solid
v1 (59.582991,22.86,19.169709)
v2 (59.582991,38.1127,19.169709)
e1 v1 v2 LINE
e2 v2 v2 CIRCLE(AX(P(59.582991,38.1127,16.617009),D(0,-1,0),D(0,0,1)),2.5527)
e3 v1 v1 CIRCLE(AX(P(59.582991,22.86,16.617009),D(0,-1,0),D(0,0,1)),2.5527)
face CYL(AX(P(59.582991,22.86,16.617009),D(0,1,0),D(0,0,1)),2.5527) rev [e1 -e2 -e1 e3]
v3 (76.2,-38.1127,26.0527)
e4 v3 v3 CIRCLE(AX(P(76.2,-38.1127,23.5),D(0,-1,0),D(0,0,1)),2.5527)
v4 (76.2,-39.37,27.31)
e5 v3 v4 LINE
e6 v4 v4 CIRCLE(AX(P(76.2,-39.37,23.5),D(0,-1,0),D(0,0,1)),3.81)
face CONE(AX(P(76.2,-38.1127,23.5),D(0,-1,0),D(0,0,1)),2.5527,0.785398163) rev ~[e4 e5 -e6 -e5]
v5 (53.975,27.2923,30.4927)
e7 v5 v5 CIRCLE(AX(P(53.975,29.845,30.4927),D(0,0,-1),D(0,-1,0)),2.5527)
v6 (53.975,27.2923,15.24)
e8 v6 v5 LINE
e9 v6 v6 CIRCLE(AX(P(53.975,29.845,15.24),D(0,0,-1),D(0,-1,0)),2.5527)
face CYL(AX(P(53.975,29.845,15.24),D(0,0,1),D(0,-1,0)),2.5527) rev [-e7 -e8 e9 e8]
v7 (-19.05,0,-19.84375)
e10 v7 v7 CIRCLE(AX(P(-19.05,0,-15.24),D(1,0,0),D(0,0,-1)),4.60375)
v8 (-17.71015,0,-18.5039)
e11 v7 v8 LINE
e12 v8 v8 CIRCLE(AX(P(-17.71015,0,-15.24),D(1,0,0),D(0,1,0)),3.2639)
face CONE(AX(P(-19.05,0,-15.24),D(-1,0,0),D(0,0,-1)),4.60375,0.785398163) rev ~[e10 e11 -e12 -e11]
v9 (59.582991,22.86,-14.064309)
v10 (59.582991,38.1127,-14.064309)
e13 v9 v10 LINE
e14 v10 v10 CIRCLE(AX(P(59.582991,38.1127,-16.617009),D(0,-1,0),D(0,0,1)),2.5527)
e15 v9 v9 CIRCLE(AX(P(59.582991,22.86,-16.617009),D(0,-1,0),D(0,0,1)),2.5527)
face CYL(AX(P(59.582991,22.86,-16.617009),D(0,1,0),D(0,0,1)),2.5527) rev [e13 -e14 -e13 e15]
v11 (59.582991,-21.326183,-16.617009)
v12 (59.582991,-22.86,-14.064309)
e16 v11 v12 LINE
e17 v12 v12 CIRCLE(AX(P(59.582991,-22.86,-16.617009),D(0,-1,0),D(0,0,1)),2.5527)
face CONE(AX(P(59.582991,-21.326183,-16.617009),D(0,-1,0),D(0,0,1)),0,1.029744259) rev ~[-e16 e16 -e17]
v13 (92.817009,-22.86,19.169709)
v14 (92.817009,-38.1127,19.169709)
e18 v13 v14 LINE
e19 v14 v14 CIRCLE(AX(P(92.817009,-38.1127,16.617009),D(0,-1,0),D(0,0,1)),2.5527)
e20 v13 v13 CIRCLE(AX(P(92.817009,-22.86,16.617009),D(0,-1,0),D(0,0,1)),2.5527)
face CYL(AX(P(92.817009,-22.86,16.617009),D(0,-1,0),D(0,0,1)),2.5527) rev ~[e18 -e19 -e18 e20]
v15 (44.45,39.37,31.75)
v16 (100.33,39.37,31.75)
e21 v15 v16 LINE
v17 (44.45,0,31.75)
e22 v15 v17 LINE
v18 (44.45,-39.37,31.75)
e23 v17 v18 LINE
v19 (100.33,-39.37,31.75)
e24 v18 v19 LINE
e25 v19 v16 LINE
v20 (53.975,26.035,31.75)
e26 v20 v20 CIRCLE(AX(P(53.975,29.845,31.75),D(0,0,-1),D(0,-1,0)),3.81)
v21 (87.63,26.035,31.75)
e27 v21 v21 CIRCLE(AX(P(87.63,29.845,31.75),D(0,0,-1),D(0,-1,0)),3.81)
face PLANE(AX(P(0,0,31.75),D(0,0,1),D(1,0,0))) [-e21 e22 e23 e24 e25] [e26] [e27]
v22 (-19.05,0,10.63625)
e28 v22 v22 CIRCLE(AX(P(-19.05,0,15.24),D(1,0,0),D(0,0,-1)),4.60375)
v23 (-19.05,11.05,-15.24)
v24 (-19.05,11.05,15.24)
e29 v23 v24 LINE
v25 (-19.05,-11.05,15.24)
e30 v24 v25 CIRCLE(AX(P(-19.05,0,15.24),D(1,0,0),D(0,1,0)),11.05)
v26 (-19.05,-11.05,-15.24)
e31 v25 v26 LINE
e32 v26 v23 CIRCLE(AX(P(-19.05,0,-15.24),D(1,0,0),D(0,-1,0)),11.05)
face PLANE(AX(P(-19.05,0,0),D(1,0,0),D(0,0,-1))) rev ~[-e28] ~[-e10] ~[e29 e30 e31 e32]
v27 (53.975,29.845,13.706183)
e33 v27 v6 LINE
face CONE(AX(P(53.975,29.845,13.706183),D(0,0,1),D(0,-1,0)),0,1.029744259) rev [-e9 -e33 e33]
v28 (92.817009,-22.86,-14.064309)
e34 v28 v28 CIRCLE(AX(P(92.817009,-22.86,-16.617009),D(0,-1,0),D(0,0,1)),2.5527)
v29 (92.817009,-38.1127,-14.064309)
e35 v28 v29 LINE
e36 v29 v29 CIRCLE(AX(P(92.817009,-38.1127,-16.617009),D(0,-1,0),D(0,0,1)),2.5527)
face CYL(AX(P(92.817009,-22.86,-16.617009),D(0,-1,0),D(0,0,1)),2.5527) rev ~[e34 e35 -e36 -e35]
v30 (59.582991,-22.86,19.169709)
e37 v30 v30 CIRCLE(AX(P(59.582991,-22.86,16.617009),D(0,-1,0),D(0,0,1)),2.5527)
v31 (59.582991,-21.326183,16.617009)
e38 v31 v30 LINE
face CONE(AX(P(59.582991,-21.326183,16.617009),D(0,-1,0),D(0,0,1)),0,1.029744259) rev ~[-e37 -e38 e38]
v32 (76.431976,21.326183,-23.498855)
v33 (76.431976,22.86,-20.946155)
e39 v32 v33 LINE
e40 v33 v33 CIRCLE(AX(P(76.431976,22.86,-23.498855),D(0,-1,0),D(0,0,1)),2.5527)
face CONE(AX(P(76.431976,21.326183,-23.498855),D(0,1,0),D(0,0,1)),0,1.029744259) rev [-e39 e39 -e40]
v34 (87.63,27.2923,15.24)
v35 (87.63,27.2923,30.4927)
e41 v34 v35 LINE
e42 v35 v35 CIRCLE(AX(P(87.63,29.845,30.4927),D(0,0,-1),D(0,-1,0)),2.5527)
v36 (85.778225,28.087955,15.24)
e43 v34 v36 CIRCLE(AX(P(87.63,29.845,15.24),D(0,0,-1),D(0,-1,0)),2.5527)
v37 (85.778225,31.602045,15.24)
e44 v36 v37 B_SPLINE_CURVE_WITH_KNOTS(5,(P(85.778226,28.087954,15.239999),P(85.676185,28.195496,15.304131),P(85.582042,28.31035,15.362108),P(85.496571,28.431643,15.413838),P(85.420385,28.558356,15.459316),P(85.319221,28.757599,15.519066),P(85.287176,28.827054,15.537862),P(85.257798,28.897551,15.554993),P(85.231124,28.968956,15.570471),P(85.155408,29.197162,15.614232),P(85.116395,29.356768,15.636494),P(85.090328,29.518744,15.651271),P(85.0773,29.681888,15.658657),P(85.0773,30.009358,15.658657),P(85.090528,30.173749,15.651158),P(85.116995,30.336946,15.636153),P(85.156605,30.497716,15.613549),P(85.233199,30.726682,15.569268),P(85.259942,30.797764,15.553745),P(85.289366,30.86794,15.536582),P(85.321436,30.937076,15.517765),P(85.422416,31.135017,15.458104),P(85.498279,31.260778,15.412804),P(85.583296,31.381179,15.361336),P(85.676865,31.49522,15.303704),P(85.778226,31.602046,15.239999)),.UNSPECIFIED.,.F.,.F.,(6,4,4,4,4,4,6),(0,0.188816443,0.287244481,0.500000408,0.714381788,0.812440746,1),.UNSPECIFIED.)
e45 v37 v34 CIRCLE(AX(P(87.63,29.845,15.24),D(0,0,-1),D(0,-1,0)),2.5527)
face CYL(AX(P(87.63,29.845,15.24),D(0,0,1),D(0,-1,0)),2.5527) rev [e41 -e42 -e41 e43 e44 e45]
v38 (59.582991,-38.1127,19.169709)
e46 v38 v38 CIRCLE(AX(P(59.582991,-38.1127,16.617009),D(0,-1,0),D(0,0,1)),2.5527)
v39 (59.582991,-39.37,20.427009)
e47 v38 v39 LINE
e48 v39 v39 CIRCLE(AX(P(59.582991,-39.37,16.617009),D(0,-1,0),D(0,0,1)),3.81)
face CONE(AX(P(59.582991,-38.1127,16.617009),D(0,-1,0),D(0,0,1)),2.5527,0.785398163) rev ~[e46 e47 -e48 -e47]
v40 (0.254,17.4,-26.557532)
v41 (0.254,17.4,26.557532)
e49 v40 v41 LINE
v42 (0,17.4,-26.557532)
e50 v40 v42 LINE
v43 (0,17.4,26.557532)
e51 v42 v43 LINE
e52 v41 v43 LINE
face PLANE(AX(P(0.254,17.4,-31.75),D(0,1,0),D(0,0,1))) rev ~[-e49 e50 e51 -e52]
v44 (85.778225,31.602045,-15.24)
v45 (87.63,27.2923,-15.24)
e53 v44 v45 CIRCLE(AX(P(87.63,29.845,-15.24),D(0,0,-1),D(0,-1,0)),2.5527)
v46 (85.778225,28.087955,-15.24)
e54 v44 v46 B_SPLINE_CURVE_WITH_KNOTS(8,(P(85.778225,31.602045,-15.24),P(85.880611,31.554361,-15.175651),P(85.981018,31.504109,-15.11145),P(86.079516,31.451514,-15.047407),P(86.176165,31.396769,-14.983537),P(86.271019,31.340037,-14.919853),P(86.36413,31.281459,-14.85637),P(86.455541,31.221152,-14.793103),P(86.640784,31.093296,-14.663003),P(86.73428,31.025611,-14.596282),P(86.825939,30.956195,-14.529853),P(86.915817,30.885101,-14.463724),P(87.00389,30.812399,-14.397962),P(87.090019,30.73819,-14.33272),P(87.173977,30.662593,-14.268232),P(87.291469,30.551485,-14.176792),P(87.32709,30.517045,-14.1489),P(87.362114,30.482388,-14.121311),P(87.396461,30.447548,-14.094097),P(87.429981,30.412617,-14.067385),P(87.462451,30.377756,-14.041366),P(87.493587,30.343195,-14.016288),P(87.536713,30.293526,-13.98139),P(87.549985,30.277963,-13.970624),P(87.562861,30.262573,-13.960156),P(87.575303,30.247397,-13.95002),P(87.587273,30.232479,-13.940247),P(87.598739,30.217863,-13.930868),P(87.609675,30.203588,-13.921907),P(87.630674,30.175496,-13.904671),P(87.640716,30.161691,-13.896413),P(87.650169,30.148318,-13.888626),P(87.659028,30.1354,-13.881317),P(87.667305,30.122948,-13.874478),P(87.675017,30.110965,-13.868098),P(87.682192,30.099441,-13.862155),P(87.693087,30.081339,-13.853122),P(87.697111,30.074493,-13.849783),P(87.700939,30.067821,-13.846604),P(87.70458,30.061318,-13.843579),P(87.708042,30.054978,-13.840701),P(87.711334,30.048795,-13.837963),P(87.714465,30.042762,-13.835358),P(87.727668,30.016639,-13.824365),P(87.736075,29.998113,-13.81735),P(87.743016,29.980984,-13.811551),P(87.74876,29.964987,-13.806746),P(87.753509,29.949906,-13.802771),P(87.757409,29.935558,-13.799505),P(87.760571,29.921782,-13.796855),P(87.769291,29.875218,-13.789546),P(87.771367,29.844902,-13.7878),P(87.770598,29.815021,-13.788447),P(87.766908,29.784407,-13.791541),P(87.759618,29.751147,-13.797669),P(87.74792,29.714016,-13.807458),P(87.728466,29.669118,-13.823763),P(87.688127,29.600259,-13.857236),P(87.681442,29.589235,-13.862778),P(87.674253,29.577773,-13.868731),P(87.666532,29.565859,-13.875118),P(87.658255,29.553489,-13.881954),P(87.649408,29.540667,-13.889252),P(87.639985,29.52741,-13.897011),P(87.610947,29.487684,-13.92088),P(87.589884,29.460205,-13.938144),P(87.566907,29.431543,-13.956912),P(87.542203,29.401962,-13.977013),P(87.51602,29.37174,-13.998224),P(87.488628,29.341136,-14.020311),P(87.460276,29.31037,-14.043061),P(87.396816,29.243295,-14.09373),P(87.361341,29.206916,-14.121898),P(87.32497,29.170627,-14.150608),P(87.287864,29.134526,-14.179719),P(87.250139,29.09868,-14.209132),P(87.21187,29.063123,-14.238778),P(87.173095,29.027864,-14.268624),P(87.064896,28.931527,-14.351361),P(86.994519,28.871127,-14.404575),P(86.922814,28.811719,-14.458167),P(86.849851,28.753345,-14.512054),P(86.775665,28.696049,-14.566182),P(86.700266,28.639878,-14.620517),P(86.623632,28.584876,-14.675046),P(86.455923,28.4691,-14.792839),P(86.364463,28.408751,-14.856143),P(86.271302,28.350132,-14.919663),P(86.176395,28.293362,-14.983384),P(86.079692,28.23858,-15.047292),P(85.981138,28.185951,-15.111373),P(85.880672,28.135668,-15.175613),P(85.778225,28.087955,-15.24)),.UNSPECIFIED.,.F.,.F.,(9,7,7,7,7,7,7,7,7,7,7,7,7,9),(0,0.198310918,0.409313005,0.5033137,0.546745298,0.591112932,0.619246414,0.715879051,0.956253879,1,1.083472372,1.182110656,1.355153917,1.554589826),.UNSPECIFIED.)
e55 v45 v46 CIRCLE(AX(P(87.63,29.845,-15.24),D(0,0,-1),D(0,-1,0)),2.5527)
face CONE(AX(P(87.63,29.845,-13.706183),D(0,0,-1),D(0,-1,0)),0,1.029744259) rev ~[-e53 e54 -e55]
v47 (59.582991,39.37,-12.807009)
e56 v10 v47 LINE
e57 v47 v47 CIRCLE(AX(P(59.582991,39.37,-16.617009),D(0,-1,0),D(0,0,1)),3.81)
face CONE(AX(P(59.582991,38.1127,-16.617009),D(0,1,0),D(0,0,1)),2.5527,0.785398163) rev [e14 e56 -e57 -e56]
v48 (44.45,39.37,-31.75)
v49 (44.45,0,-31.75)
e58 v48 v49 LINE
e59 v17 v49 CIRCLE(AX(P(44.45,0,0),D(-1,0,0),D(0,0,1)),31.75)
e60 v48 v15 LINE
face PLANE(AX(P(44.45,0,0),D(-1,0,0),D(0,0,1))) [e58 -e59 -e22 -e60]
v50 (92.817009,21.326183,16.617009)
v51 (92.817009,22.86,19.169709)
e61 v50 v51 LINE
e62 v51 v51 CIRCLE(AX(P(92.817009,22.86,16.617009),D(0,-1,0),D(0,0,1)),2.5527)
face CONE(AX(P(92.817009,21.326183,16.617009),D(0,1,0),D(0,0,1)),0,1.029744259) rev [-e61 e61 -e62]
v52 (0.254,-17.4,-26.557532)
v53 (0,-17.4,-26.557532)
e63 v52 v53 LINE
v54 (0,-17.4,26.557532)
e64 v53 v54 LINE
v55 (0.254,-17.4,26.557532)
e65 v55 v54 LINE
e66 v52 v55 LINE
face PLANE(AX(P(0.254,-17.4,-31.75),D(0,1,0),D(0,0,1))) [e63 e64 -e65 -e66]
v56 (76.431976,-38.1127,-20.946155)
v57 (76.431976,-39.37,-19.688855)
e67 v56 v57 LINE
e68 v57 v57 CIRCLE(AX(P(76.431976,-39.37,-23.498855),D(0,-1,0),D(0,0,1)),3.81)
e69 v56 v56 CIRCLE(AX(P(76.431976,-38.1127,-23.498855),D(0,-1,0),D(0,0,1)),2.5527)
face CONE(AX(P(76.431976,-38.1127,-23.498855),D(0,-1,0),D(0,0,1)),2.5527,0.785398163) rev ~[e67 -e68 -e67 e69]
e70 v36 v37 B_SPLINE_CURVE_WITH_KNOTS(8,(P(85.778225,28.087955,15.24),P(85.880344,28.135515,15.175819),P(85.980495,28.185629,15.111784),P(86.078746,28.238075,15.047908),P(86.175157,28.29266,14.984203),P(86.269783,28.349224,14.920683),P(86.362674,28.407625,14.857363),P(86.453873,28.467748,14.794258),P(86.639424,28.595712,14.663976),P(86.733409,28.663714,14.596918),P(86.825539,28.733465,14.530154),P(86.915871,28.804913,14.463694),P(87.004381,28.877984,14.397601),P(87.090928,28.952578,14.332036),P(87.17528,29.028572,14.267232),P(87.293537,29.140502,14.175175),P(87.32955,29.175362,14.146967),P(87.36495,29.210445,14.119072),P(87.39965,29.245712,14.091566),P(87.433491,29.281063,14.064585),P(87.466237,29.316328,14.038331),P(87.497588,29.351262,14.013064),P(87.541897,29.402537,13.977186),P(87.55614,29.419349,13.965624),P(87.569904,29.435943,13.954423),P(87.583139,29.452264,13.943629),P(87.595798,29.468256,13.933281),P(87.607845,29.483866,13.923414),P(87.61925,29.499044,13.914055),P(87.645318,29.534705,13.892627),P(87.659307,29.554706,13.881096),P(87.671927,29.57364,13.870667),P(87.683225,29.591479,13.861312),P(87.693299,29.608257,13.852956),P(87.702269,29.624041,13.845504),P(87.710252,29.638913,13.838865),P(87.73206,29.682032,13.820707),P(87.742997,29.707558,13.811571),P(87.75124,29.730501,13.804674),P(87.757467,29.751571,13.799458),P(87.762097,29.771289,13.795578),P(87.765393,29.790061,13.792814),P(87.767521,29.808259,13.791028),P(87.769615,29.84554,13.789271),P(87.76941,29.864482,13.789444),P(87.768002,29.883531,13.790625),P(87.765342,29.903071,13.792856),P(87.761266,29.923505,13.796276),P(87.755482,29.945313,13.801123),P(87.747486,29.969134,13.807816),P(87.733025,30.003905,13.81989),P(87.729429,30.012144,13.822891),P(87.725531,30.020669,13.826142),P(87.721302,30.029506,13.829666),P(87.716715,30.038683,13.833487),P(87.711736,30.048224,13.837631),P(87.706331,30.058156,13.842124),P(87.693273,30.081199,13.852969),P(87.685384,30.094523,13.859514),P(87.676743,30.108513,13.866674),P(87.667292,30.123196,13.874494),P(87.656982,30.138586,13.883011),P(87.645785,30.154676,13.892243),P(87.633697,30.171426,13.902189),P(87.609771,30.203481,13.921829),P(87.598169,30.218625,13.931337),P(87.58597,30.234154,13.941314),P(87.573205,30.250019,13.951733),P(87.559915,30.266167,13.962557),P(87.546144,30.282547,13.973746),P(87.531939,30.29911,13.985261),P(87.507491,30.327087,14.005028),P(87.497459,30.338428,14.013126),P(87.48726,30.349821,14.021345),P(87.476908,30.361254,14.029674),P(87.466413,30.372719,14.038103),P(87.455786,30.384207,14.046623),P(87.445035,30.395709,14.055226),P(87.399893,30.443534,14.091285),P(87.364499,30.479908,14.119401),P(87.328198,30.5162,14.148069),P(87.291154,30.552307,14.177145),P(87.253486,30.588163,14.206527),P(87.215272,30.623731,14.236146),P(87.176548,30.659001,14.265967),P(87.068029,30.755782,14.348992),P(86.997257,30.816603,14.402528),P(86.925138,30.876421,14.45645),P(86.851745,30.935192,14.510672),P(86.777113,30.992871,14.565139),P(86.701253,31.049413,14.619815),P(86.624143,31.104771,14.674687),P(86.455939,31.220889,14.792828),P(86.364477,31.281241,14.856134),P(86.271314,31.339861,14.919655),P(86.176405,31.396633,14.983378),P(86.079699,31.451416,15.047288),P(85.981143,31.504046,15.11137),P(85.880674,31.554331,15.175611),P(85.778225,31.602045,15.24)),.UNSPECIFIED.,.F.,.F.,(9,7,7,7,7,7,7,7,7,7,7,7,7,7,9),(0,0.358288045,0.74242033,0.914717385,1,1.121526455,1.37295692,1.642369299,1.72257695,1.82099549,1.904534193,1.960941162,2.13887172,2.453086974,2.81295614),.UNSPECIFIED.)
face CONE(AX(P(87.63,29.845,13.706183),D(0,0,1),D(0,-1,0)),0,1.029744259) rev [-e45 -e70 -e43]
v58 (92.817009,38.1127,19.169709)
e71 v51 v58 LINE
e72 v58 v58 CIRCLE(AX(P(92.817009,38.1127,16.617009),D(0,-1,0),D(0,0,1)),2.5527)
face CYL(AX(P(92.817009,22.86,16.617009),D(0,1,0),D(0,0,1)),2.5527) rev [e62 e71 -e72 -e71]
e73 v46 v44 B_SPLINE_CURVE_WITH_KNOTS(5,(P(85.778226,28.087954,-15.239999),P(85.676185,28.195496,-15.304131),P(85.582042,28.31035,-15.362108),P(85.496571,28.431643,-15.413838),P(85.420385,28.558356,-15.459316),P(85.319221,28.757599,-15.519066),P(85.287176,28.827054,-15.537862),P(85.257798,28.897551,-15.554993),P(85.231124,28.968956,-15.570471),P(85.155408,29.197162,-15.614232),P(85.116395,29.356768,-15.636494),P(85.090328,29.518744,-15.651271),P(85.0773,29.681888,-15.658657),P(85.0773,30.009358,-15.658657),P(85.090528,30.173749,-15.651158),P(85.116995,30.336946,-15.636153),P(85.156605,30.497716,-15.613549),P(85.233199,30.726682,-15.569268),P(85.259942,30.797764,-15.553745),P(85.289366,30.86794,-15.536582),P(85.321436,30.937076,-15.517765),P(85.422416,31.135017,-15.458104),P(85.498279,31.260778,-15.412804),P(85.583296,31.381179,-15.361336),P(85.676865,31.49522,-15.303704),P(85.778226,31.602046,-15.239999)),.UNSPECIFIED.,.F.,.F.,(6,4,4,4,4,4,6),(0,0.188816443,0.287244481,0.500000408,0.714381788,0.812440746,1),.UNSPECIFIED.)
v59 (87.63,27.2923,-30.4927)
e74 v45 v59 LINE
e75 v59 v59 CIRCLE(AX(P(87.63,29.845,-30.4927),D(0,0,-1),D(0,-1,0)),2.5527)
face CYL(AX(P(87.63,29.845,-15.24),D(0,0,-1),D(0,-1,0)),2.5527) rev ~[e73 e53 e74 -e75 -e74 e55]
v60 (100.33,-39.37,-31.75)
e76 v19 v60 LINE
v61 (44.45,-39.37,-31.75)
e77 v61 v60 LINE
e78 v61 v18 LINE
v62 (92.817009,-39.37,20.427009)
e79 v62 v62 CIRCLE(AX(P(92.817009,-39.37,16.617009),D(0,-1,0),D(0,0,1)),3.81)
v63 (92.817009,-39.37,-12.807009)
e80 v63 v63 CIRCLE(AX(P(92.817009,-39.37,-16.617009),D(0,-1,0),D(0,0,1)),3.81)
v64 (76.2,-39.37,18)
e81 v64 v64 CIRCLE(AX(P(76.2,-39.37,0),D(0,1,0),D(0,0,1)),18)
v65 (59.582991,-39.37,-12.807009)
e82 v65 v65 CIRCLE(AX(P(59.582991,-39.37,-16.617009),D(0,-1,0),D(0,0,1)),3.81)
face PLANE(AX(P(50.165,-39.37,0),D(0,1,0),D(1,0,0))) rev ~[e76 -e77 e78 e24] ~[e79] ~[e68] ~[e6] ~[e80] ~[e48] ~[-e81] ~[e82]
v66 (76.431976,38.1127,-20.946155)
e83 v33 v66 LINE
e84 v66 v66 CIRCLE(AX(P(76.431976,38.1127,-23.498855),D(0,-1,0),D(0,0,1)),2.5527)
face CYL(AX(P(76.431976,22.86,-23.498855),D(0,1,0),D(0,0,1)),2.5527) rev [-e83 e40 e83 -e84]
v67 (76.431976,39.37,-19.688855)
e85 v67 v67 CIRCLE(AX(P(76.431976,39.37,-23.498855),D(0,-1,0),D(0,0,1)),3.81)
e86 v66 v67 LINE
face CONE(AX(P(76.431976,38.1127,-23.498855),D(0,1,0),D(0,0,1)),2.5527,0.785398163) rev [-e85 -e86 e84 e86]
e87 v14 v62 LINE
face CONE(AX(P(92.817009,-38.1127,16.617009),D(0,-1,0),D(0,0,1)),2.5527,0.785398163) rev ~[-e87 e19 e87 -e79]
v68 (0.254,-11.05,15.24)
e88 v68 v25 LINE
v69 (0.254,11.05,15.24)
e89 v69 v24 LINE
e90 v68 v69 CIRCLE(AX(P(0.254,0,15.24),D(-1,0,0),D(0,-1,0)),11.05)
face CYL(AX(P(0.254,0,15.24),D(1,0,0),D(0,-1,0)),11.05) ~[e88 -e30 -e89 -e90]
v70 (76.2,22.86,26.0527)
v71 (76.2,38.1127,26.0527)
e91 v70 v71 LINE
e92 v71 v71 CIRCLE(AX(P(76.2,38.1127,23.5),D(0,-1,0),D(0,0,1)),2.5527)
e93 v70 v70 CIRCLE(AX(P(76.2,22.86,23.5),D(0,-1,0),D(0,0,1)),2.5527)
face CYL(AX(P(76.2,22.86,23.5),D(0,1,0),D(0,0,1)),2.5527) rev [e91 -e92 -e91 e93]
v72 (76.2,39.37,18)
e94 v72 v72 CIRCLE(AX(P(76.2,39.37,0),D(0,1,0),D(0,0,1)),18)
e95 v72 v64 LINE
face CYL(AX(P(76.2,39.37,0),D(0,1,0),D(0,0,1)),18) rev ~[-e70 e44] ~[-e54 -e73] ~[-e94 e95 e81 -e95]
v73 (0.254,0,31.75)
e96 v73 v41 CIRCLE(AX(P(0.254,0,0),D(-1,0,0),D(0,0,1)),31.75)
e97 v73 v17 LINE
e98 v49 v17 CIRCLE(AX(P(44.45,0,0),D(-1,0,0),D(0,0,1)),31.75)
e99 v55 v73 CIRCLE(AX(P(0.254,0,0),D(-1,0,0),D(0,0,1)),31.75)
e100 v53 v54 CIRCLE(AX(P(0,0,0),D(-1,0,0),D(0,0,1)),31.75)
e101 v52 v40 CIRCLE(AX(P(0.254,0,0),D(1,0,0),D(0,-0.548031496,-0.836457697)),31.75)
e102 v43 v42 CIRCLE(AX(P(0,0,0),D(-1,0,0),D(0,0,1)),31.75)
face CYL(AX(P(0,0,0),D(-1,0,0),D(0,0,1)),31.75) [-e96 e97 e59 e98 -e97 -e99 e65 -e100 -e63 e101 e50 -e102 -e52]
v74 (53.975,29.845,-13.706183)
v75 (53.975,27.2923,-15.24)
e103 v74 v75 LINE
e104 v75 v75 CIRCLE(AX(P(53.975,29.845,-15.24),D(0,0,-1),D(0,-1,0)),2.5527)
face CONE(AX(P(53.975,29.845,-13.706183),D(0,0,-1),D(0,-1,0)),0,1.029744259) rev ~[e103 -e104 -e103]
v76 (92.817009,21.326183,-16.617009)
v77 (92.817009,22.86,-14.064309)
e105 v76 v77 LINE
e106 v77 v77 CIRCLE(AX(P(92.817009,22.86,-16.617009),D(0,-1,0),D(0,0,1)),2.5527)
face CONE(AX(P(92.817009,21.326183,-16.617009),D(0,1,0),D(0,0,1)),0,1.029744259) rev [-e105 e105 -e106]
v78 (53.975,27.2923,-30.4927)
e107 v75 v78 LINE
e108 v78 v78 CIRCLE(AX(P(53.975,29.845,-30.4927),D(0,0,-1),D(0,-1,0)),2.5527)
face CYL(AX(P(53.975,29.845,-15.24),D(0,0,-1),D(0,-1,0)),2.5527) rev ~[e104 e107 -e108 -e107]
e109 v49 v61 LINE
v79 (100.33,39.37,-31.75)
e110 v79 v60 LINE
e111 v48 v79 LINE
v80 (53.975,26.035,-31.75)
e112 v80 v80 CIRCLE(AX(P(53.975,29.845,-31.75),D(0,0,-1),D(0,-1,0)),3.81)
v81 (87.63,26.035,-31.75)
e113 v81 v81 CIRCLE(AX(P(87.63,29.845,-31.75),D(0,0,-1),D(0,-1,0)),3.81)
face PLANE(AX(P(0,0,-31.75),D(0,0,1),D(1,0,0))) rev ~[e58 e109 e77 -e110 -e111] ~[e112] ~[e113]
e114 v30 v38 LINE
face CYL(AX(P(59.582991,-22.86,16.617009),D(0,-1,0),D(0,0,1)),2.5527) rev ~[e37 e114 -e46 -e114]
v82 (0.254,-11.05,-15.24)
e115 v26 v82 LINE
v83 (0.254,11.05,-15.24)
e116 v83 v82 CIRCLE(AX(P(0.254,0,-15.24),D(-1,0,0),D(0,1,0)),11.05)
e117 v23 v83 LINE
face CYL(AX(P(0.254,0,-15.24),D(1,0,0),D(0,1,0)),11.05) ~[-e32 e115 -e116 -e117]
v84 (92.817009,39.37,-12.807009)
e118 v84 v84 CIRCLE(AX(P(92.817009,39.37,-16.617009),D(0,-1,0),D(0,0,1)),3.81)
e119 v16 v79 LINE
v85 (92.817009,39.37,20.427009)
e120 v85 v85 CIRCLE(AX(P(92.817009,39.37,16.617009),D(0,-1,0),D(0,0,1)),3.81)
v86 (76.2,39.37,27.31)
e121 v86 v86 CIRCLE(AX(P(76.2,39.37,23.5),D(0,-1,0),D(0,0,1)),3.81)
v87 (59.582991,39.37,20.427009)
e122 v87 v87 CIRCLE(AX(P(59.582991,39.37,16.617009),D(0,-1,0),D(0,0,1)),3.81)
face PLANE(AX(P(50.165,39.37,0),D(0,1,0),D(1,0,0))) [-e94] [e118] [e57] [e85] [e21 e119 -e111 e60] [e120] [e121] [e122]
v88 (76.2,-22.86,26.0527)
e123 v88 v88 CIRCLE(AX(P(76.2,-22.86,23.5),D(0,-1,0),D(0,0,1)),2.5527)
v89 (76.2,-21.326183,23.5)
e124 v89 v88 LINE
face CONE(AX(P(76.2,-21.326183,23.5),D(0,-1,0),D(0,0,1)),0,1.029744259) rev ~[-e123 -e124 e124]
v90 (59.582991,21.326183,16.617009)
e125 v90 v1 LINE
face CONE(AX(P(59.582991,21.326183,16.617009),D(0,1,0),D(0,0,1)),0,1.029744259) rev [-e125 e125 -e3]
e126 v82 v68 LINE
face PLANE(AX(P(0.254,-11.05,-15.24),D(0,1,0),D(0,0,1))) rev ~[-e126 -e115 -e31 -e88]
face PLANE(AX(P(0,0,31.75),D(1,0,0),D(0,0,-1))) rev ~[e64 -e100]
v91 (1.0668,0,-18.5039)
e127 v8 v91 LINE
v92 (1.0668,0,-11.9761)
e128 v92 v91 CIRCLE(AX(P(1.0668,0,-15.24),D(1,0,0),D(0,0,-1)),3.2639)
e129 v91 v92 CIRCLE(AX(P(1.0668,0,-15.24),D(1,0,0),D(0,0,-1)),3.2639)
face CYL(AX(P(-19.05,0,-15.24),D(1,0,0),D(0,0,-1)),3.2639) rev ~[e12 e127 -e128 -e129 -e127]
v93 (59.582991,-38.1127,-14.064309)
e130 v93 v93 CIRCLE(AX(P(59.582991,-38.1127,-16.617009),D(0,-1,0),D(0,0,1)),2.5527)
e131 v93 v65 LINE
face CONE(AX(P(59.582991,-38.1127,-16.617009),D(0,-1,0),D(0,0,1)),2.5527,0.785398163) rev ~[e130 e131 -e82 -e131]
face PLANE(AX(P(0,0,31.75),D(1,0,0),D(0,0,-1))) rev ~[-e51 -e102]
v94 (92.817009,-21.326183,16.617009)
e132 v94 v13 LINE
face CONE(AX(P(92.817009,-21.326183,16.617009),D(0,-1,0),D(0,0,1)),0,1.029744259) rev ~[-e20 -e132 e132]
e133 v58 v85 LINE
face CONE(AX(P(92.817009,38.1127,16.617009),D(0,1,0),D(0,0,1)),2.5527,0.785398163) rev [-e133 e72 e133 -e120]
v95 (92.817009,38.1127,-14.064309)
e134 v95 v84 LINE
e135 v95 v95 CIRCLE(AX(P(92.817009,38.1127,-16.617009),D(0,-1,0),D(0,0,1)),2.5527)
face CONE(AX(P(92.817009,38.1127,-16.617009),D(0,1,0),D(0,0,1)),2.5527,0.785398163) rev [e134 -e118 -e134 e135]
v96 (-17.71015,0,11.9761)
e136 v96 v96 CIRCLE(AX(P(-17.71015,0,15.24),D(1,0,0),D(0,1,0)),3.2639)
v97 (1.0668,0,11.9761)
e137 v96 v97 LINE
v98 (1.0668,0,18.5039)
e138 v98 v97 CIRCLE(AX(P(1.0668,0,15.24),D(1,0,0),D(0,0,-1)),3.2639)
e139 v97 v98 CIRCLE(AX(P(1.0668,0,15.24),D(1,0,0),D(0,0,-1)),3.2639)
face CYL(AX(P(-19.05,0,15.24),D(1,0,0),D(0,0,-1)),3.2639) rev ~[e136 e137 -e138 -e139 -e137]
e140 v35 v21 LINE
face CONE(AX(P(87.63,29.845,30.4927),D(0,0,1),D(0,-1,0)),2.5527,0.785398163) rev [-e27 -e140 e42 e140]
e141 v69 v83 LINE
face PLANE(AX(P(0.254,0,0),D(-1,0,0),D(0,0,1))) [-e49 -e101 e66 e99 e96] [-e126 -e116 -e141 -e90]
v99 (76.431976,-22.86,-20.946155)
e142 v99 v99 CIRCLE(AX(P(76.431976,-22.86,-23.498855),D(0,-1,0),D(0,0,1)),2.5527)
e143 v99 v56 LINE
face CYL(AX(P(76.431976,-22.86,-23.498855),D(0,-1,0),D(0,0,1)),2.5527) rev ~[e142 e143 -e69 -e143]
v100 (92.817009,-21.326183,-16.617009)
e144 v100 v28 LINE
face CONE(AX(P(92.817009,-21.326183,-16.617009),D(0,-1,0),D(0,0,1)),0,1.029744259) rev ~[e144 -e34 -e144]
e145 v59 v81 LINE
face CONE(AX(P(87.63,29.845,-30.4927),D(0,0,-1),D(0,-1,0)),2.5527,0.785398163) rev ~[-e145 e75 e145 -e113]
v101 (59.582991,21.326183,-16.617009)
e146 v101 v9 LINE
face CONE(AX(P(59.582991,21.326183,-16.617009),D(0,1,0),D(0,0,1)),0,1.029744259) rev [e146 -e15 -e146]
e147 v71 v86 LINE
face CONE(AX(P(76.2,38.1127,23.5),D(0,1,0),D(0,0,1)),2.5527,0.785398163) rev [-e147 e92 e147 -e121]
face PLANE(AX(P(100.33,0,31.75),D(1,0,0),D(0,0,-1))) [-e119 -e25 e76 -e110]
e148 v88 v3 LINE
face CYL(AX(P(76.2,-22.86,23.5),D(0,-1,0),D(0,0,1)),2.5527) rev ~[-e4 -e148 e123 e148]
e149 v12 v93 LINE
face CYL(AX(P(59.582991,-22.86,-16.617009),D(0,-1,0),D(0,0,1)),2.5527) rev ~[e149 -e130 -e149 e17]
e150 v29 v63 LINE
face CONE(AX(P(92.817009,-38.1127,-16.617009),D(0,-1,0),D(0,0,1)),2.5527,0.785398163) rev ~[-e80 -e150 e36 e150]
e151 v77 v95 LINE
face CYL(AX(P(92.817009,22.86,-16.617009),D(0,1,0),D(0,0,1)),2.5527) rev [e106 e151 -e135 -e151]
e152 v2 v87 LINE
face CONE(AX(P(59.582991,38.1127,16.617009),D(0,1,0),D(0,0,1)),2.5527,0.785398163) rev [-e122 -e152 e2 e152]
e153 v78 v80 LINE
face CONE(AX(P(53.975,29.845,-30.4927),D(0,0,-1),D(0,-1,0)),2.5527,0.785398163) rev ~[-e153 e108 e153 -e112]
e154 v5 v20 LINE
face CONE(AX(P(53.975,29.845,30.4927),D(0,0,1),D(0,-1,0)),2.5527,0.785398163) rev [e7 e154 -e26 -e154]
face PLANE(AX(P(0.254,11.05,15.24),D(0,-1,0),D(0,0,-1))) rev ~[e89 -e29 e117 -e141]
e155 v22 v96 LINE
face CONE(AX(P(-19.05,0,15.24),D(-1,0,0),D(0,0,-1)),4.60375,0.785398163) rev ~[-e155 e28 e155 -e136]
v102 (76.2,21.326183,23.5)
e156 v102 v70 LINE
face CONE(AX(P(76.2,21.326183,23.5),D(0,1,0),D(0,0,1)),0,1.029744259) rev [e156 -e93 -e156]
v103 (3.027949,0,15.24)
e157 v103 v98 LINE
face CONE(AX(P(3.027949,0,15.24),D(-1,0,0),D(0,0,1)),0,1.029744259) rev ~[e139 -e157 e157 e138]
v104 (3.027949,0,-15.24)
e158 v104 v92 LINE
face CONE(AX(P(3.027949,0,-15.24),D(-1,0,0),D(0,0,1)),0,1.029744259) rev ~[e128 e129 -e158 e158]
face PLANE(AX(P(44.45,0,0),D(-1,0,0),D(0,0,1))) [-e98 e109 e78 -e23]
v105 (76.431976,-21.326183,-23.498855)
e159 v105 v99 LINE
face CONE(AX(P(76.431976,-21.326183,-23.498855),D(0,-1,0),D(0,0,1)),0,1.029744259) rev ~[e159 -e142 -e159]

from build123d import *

# Parameters (mm, degrees)
SKETCH3_W                          = 100.33
SKETCH3_H                          = 63.5
BOSS_EXTRUDE3_DEPTH                = 39.37
SKETCH5_OUTSIDE_W                  = 93.994
SKETCH5_OUTSIDE_H                  = 109.234
SKETCH5_OUTSIDE_R                  = 31.75
CUT_EXTRUDE1_DEPTH                 = 44.45
SKETCH6_R                          = 18
CUT_EXTRUDE2_DEPTH                 = 132.431194927
BOSS_EXTRUDE4_DEPTH                = 19.05
CUT_EXTRUDE3_START                 = -0.254
SKETCH12_W                         = 63.5
SKETCH12_H                         = 34.8
CUT_EXTRUDE3_DEPTH                 = 0.254
F_5_16_18_TAPPED_HOLE1_D           = 6.5278
F_5_16_18_TAPPED_HOLE1_DEPTH       = 20.1168
F_5_16_18_TAPPED_HOLE1_CSINK_D     = 9.2075
F_5_16_18_TAPPED_HOLE1_CSINK_ANGLE = 90
F_5_16_18_TAPPED_HOLE1_TIP         = 1.961148974
F_1_4_20_TAPPED_HOLE2_AT_2_COUNT   = 2
F_1_4_20_TAPPED_HOLE2_AT_2_PITCH   = 43.510583459
F_1_4_20_TAPPED_HOLE2_AT_3_COUNT   = 2
F_1_4_20_TAPPED_HOLE2_AT_3_PITCH   = 17.771582008
F_1_4_20_TAPPED_HOLE2_AT_4_COUNT   = 2
F_1_4_20_TAPPED_HOLE2_AT_4_PITCH   = 18.200222467
F_1_4_20_TAPPED_HOLE2_AT_5_COUNT   = 2
F_1_4_20_TAPPED_HOLE2_AT_5_PITCH   = 43.333034767
F_1_4_20_TAPPED_HOLE2_AT_6_COUNT   = 2
F_1_4_20_TAPPED_HOLE2_AT_6_PITCH   = 46.999427507
F_1_4_20_TAPPED_HOLE3_AT_2_COUNT   = 2
F_1_4_20_TAPPED_HOLE3_AT_2_PITCH   = 33.655


with BuildPart() as part:
    # Sketch3 → Boss-Extrude3 (new, symmetric)
    with BuildSketch(Plane(origin=(0, 0, 0), x_dir=(1, 0, 0), z_dir=(0, 1, 0))):
        with Locations((50.165, 0)):
            Rectangle(SKETCH3_W, SKETCH3_H)
    extrude(amount=BOSS_EXTRUDE3_DEPTH, both=True)

    # Sketch5 outside → Cut-Extrude1 (cut)
    with BuildSketch(Plane.ZY):
        Rectangle(SKETCH5_OUTSIDE_W, SKETCH5_OUTSIDE_H)
        Circle(SKETCH5_OUTSIDE_R, mode=Mode.SUBTRACT)
    extrude(amount=-CUT_EXTRUDE1_DEPTH, mode=Mode.SUBTRACT)

    # Sketch6 → Cut-Extrude2 (cut, through all)
    with BuildSketch(Plane(origin=(0, 39.37, 0), x_dir=(1, 0, 0), z_dir=(0, 1, 0))):
        with Locations(Location((76.2, 0, 0), (0, 0, 270))):
            Circle(SKETCH6_R)
    extrude(amount=-CUT_EXTRUDE2_DEPTH, mode=Mode.SUBTRACT)

    # Sketch9 → Boss-Extrude4 (add)
    with BuildSketch(Plane.ZY):
        with BuildLine():
            Line((-15.24, 11.05), (15.24, 11.05))
            ThreePointArc((15.24, 11.05), (26.29, 0), (15.24, -11.05))
            Line((15.24, -11.05), (-15.24, -11.05))
            ThreePointArc((-15.24, -11.05), (-26.29, 0), (-15.24, 11.05))
        make_face()
    extrude(amount=BOSS_EXTRUDE4_DEPTH)

    # Sketch12 → Cut-Extrude3 (cut)
    with BuildSketch(Plane.ZY.offset(CUT_EXTRUDE3_START)):
        Rectangle(SKETCH12_W, SKETCH12_H)
        with BuildLine():
            Line((-15.24, -11.05), (15.24, -11.05))
            ThreePointArc((15.24, -11.05), (26.29, 0), (15.24, 11.05))
            Line((15.24, 11.05), (-15.24, 11.05))
            ThreePointArc((-15.24, 11.05), (-26.29, 0), (-15.24, -11.05))
        make_face(mode=Mode.SUBTRACT)
    extrude(amount=CUT_EXTRUDE3_DEPTH, mode=Mode.SUBTRACT)

    # 5/16-18 Tapped Hole1
    with Locations(Plane.ZY.offset(19.05)):
        with Locations((-15.24, 0), (15.24, 0)):
            CounterSinkHole(F_5_16_18_TAPPED_HOLE1_D / 2, F_5_16_18_TAPPED_HOLE1_CSINK_D / 2, depth=F_5_16_18_TAPPED_HOLE1_DEPTH, counter_sink_angle=F_5_16_18_TAPPED_HOLE1_CSINK_ANGLE)
            with Locations((0, 0, -(F_5_16_18_TAPPED_HOLE1_DEPTH + F_5_16_18_TAPPED_HOLE1_TIP / 2))):  # 118° drill point
                Cone(0, F_5_16_18_TAPPED_HOLE1_D / 2, F_5_16_18_TAPPED_HOLE1_TIP, mode=Mode.SUBTRACT)

    # Sketch7 → 1/4-20 Tapped Hole2 (revolve, cut)
    with BuildSketch(Plane(origin=(76.431975719, 39.37, -23.49885502), x_dir=(0, 0, 1), z_dir=(1, 0, 0))):
        Polygon((0, 0), (0, 18.043816902), (2.5527, 16.51), (2.5527, 1.2573), (3.81, 0), align=None)
    f_1_4_20_tapped_hole2 = revolve(axis=Axis((76.431975719, 45.72, -23.49885502), (0, -1, 0)), mode=Mode.SUBTRACT)

    # 1/4-20 Tapped Hole2 at 2: 1/4-20 Tapped Hole2 ×2
    with Locations(*[Vector(-0.38723877589339034, 0, 0.9219794631360227) * (i * F_1_4_20_TAPPED_HOLE2_AT_2_PITCH) for i in range(1, F_1_4_20_TAPPED_HOLE2_AT_2_COUNT)]):
        add(f_1_4_20_tapped_hole2, mode=Mode.SUBTRACT)

    # 1/4-20 Tapped Hole2 at 3: 1/4-20 Tapped Hole2 ×2
    with Locations(*[Vector(0.9219794631360225, 0, 0.3872387758933909) * (i * F_1_4_20_TAPPED_HOLE2_AT_3_PITCH) for i in range(1, F_1_4_20_TAPPED_HOLE2_AT_3_COUNT)]):
        add(f_1_4_20_tapped_hole2, mode=Mode.SUBTRACT)

    # 1/4-20 Tapped Hole2 at 4: 1/4-20 Tapped Hole2 ×2
    with Locations(*[Vector(-0.9257570948708089, 0, 0.37811876612561857) * (i * F_1_4_20_TAPPED_HOLE2_AT_4_PITCH) for i in range(1, F_1_4_20_TAPPED_HOLE2_AT_4_COUNT)]):
        add(f_1_4_20_tapped_hole2, mode=Mode.SUBTRACT)

    # 1/4-20 Tapped Hole2 at 5: 1/4-20 Tapped Hole2 ×2
    with Locations(*[Vector(0.37811876612561857, 0, 0.9257570948708089) * (i * F_1_4_20_TAPPED_HOLE2_AT_5_PITCH) for i in range(1, F_1_4_20_TAPPED_HOLE2_AT_5_COUNT)]):
        add(f_1_4_20_tapped_hole2, mode=Mode.SUBTRACT)

    # 1/4-20 Tapped Hole2 at 6: 1/4-20 Tapped Hole2 ×2
    with Locations(*[Vector(-0.004935713719611744, 0, 0.9999878192908542) * (i * F_1_4_20_TAPPED_HOLE2_AT_6_PITCH) for i in range(1, F_1_4_20_TAPPED_HOLE2_AT_6_COUNT)]):
        add(f_1_4_20_tapped_hole2, mode=Mode.SUBTRACT)

    # Mirror1: 1/4-20 Tapped Hole2 across plane
    add(f_1_4_20_tapped_hole2.mirror(Plane.ZX), mode=Mode.SUBTRACT)

    # Mirror1 copy 1 sketch → Mirror1 copy 1 (revolve, cut)
    with BuildSketch(Plane(origin=(59.582990642, -39.37, 16.617009358), x_dir=(0, 0, 1), z_dir=(1, 0, 0))):
        Polygon((0, 0), (0, -18.043816902), (2.5527, -16.51), (2.5527, -1.2573), (3.81, 0), align=None)
    revolve(axis=Axis((59.582990642, -45.72, 16.617009358), (0, -1, 0)), mode=Mode.SUBTRACT)

    # Mirror1 copy 2 sketch → Mirror1 copy 2 (revolve, cut)
    with BuildSketch(Plane(origin=(92.817009358, -39.37, -16.617009358), x_dir=(0, 0, 1), z_dir=(1, 0, 0))):
        Polygon((0, 0), (0, -18.043816902), (2.5527, -16.51), (2.5527, -1.2573), (3.81, 0), align=None)
    revolve(axis=Axis((92.817009358, -45.72, -16.617009358), (0, -1, 0)), mode=Mode.SUBTRACT)

    # Mirror1 copy 3 sketch → Mirror1 copy 3 (revolve, cut)
    with BuildSketch(Plane(origin=(59.582990642, -39.37, -16.617009358), x_dir=(0, 0, 1), z_dir=(1, 0, 0))):
        Polygon((0, 0), (0, -18.043816902), (2.5527, -16.51), (2.5527, -1.2573), (3.81, 0), align=None)
    revolve(axis=Axis((59.582990642, -45.72, -16.617009358), (0, -1, 0)), mode=Mode.SUBTRACT)

    # Mirror1 copy 4 sketch → Mirror1 copy 4 (revolve, cut)
    with BuildSketch(Plane(origin=(92.817009358, -39.37, 16.617009358), x_dir=(0, 0, 1), z_dir=(1, 0, 0))):
        Polygon((0, 0), (0, -18.043816902), (2.5527, -16.51), (2.5527, -1.2573), (3.81, 0), align=None)
    revolve(axis=Axis((92.817009358, -45.72, 16.617009358), (0, -1, 0)), mode=Mode.SUBTRACT)

    # Mirror1 copy 5 sketch → Mirror1 copy 5 (revolve, cut)
    with BuildSketch(Plane(origin=(76.2, -39.37, 23.5), x_dir=(0, 0, 1), z_dir=(1, 0, 0))):
        Polygon((0, 0), (0, -18.043816902), (2.5527, -16.51), (2.5527, -1.2573), (3.81, 0), align=None)
    revolve(axis=Axis((76.2, -45.72, 23.5), (0, -1, 0)), mode=Mode.SUBTRACT)

    # Sketch13 → 1/4-20 Tapped Hole3 (revolve, cut)
    with BuildSketch(Plane(origin=(53.975, 29.845, 31.75), x_dir=(0, -1, 0), z_dir=(1, 0, 0))):
        Polygon((0, 0), (0, 18.043816902), (2.5527, 16.51), (2.5527, 1.2573), (3.81, 0), align=None)
    f_1_4_20_tapped_hole3 = revolve(axis=Axis((53.975, 29.845, 38.1), (0, 0, -1)), mode=Mode.SUBTRACT)

    # 1/4-20 Tapped Hole3 at 2: 1/4-20 Tapped Hole3 ×2
    with Locations(*[(i * F_1_4_20_TAPPED_HOLE3_AT_2_PITCH, 0, 0) for i in range(1, F_1_4_20_TAPPED_HOLE3_AT_2_COUNT)]):
        add(f_1_4_20_tapped_hole3, mode=Mode.SUBTRACT)

    # Mirror2: 1/4-20 Tapped Hole3 across plane
    add(f_1_4_20_tapped_hole3.mirror(Plane.XY), mode=Mode.SUBTRACT)

    # Mirror2 copy 1 sketch → Mirror2 copy 1 (revolve, cut)
    with BuildSketch(Plane(origin=(87.63, 29.845, -31.75), x_dir=(0, -1, 0), z_dir=(1, 0, 0))):
        Polygon((0, 0), (0, -18.043816902), (2.5527, -16.51), (2.5527, -1.2573), (3.81, 0), align=None)
    revolve(axis=Axis((87.63, 29.845, -38.1), (0, 0, -1)), mode=Mode.SUBTRACT)


solid = part.part
